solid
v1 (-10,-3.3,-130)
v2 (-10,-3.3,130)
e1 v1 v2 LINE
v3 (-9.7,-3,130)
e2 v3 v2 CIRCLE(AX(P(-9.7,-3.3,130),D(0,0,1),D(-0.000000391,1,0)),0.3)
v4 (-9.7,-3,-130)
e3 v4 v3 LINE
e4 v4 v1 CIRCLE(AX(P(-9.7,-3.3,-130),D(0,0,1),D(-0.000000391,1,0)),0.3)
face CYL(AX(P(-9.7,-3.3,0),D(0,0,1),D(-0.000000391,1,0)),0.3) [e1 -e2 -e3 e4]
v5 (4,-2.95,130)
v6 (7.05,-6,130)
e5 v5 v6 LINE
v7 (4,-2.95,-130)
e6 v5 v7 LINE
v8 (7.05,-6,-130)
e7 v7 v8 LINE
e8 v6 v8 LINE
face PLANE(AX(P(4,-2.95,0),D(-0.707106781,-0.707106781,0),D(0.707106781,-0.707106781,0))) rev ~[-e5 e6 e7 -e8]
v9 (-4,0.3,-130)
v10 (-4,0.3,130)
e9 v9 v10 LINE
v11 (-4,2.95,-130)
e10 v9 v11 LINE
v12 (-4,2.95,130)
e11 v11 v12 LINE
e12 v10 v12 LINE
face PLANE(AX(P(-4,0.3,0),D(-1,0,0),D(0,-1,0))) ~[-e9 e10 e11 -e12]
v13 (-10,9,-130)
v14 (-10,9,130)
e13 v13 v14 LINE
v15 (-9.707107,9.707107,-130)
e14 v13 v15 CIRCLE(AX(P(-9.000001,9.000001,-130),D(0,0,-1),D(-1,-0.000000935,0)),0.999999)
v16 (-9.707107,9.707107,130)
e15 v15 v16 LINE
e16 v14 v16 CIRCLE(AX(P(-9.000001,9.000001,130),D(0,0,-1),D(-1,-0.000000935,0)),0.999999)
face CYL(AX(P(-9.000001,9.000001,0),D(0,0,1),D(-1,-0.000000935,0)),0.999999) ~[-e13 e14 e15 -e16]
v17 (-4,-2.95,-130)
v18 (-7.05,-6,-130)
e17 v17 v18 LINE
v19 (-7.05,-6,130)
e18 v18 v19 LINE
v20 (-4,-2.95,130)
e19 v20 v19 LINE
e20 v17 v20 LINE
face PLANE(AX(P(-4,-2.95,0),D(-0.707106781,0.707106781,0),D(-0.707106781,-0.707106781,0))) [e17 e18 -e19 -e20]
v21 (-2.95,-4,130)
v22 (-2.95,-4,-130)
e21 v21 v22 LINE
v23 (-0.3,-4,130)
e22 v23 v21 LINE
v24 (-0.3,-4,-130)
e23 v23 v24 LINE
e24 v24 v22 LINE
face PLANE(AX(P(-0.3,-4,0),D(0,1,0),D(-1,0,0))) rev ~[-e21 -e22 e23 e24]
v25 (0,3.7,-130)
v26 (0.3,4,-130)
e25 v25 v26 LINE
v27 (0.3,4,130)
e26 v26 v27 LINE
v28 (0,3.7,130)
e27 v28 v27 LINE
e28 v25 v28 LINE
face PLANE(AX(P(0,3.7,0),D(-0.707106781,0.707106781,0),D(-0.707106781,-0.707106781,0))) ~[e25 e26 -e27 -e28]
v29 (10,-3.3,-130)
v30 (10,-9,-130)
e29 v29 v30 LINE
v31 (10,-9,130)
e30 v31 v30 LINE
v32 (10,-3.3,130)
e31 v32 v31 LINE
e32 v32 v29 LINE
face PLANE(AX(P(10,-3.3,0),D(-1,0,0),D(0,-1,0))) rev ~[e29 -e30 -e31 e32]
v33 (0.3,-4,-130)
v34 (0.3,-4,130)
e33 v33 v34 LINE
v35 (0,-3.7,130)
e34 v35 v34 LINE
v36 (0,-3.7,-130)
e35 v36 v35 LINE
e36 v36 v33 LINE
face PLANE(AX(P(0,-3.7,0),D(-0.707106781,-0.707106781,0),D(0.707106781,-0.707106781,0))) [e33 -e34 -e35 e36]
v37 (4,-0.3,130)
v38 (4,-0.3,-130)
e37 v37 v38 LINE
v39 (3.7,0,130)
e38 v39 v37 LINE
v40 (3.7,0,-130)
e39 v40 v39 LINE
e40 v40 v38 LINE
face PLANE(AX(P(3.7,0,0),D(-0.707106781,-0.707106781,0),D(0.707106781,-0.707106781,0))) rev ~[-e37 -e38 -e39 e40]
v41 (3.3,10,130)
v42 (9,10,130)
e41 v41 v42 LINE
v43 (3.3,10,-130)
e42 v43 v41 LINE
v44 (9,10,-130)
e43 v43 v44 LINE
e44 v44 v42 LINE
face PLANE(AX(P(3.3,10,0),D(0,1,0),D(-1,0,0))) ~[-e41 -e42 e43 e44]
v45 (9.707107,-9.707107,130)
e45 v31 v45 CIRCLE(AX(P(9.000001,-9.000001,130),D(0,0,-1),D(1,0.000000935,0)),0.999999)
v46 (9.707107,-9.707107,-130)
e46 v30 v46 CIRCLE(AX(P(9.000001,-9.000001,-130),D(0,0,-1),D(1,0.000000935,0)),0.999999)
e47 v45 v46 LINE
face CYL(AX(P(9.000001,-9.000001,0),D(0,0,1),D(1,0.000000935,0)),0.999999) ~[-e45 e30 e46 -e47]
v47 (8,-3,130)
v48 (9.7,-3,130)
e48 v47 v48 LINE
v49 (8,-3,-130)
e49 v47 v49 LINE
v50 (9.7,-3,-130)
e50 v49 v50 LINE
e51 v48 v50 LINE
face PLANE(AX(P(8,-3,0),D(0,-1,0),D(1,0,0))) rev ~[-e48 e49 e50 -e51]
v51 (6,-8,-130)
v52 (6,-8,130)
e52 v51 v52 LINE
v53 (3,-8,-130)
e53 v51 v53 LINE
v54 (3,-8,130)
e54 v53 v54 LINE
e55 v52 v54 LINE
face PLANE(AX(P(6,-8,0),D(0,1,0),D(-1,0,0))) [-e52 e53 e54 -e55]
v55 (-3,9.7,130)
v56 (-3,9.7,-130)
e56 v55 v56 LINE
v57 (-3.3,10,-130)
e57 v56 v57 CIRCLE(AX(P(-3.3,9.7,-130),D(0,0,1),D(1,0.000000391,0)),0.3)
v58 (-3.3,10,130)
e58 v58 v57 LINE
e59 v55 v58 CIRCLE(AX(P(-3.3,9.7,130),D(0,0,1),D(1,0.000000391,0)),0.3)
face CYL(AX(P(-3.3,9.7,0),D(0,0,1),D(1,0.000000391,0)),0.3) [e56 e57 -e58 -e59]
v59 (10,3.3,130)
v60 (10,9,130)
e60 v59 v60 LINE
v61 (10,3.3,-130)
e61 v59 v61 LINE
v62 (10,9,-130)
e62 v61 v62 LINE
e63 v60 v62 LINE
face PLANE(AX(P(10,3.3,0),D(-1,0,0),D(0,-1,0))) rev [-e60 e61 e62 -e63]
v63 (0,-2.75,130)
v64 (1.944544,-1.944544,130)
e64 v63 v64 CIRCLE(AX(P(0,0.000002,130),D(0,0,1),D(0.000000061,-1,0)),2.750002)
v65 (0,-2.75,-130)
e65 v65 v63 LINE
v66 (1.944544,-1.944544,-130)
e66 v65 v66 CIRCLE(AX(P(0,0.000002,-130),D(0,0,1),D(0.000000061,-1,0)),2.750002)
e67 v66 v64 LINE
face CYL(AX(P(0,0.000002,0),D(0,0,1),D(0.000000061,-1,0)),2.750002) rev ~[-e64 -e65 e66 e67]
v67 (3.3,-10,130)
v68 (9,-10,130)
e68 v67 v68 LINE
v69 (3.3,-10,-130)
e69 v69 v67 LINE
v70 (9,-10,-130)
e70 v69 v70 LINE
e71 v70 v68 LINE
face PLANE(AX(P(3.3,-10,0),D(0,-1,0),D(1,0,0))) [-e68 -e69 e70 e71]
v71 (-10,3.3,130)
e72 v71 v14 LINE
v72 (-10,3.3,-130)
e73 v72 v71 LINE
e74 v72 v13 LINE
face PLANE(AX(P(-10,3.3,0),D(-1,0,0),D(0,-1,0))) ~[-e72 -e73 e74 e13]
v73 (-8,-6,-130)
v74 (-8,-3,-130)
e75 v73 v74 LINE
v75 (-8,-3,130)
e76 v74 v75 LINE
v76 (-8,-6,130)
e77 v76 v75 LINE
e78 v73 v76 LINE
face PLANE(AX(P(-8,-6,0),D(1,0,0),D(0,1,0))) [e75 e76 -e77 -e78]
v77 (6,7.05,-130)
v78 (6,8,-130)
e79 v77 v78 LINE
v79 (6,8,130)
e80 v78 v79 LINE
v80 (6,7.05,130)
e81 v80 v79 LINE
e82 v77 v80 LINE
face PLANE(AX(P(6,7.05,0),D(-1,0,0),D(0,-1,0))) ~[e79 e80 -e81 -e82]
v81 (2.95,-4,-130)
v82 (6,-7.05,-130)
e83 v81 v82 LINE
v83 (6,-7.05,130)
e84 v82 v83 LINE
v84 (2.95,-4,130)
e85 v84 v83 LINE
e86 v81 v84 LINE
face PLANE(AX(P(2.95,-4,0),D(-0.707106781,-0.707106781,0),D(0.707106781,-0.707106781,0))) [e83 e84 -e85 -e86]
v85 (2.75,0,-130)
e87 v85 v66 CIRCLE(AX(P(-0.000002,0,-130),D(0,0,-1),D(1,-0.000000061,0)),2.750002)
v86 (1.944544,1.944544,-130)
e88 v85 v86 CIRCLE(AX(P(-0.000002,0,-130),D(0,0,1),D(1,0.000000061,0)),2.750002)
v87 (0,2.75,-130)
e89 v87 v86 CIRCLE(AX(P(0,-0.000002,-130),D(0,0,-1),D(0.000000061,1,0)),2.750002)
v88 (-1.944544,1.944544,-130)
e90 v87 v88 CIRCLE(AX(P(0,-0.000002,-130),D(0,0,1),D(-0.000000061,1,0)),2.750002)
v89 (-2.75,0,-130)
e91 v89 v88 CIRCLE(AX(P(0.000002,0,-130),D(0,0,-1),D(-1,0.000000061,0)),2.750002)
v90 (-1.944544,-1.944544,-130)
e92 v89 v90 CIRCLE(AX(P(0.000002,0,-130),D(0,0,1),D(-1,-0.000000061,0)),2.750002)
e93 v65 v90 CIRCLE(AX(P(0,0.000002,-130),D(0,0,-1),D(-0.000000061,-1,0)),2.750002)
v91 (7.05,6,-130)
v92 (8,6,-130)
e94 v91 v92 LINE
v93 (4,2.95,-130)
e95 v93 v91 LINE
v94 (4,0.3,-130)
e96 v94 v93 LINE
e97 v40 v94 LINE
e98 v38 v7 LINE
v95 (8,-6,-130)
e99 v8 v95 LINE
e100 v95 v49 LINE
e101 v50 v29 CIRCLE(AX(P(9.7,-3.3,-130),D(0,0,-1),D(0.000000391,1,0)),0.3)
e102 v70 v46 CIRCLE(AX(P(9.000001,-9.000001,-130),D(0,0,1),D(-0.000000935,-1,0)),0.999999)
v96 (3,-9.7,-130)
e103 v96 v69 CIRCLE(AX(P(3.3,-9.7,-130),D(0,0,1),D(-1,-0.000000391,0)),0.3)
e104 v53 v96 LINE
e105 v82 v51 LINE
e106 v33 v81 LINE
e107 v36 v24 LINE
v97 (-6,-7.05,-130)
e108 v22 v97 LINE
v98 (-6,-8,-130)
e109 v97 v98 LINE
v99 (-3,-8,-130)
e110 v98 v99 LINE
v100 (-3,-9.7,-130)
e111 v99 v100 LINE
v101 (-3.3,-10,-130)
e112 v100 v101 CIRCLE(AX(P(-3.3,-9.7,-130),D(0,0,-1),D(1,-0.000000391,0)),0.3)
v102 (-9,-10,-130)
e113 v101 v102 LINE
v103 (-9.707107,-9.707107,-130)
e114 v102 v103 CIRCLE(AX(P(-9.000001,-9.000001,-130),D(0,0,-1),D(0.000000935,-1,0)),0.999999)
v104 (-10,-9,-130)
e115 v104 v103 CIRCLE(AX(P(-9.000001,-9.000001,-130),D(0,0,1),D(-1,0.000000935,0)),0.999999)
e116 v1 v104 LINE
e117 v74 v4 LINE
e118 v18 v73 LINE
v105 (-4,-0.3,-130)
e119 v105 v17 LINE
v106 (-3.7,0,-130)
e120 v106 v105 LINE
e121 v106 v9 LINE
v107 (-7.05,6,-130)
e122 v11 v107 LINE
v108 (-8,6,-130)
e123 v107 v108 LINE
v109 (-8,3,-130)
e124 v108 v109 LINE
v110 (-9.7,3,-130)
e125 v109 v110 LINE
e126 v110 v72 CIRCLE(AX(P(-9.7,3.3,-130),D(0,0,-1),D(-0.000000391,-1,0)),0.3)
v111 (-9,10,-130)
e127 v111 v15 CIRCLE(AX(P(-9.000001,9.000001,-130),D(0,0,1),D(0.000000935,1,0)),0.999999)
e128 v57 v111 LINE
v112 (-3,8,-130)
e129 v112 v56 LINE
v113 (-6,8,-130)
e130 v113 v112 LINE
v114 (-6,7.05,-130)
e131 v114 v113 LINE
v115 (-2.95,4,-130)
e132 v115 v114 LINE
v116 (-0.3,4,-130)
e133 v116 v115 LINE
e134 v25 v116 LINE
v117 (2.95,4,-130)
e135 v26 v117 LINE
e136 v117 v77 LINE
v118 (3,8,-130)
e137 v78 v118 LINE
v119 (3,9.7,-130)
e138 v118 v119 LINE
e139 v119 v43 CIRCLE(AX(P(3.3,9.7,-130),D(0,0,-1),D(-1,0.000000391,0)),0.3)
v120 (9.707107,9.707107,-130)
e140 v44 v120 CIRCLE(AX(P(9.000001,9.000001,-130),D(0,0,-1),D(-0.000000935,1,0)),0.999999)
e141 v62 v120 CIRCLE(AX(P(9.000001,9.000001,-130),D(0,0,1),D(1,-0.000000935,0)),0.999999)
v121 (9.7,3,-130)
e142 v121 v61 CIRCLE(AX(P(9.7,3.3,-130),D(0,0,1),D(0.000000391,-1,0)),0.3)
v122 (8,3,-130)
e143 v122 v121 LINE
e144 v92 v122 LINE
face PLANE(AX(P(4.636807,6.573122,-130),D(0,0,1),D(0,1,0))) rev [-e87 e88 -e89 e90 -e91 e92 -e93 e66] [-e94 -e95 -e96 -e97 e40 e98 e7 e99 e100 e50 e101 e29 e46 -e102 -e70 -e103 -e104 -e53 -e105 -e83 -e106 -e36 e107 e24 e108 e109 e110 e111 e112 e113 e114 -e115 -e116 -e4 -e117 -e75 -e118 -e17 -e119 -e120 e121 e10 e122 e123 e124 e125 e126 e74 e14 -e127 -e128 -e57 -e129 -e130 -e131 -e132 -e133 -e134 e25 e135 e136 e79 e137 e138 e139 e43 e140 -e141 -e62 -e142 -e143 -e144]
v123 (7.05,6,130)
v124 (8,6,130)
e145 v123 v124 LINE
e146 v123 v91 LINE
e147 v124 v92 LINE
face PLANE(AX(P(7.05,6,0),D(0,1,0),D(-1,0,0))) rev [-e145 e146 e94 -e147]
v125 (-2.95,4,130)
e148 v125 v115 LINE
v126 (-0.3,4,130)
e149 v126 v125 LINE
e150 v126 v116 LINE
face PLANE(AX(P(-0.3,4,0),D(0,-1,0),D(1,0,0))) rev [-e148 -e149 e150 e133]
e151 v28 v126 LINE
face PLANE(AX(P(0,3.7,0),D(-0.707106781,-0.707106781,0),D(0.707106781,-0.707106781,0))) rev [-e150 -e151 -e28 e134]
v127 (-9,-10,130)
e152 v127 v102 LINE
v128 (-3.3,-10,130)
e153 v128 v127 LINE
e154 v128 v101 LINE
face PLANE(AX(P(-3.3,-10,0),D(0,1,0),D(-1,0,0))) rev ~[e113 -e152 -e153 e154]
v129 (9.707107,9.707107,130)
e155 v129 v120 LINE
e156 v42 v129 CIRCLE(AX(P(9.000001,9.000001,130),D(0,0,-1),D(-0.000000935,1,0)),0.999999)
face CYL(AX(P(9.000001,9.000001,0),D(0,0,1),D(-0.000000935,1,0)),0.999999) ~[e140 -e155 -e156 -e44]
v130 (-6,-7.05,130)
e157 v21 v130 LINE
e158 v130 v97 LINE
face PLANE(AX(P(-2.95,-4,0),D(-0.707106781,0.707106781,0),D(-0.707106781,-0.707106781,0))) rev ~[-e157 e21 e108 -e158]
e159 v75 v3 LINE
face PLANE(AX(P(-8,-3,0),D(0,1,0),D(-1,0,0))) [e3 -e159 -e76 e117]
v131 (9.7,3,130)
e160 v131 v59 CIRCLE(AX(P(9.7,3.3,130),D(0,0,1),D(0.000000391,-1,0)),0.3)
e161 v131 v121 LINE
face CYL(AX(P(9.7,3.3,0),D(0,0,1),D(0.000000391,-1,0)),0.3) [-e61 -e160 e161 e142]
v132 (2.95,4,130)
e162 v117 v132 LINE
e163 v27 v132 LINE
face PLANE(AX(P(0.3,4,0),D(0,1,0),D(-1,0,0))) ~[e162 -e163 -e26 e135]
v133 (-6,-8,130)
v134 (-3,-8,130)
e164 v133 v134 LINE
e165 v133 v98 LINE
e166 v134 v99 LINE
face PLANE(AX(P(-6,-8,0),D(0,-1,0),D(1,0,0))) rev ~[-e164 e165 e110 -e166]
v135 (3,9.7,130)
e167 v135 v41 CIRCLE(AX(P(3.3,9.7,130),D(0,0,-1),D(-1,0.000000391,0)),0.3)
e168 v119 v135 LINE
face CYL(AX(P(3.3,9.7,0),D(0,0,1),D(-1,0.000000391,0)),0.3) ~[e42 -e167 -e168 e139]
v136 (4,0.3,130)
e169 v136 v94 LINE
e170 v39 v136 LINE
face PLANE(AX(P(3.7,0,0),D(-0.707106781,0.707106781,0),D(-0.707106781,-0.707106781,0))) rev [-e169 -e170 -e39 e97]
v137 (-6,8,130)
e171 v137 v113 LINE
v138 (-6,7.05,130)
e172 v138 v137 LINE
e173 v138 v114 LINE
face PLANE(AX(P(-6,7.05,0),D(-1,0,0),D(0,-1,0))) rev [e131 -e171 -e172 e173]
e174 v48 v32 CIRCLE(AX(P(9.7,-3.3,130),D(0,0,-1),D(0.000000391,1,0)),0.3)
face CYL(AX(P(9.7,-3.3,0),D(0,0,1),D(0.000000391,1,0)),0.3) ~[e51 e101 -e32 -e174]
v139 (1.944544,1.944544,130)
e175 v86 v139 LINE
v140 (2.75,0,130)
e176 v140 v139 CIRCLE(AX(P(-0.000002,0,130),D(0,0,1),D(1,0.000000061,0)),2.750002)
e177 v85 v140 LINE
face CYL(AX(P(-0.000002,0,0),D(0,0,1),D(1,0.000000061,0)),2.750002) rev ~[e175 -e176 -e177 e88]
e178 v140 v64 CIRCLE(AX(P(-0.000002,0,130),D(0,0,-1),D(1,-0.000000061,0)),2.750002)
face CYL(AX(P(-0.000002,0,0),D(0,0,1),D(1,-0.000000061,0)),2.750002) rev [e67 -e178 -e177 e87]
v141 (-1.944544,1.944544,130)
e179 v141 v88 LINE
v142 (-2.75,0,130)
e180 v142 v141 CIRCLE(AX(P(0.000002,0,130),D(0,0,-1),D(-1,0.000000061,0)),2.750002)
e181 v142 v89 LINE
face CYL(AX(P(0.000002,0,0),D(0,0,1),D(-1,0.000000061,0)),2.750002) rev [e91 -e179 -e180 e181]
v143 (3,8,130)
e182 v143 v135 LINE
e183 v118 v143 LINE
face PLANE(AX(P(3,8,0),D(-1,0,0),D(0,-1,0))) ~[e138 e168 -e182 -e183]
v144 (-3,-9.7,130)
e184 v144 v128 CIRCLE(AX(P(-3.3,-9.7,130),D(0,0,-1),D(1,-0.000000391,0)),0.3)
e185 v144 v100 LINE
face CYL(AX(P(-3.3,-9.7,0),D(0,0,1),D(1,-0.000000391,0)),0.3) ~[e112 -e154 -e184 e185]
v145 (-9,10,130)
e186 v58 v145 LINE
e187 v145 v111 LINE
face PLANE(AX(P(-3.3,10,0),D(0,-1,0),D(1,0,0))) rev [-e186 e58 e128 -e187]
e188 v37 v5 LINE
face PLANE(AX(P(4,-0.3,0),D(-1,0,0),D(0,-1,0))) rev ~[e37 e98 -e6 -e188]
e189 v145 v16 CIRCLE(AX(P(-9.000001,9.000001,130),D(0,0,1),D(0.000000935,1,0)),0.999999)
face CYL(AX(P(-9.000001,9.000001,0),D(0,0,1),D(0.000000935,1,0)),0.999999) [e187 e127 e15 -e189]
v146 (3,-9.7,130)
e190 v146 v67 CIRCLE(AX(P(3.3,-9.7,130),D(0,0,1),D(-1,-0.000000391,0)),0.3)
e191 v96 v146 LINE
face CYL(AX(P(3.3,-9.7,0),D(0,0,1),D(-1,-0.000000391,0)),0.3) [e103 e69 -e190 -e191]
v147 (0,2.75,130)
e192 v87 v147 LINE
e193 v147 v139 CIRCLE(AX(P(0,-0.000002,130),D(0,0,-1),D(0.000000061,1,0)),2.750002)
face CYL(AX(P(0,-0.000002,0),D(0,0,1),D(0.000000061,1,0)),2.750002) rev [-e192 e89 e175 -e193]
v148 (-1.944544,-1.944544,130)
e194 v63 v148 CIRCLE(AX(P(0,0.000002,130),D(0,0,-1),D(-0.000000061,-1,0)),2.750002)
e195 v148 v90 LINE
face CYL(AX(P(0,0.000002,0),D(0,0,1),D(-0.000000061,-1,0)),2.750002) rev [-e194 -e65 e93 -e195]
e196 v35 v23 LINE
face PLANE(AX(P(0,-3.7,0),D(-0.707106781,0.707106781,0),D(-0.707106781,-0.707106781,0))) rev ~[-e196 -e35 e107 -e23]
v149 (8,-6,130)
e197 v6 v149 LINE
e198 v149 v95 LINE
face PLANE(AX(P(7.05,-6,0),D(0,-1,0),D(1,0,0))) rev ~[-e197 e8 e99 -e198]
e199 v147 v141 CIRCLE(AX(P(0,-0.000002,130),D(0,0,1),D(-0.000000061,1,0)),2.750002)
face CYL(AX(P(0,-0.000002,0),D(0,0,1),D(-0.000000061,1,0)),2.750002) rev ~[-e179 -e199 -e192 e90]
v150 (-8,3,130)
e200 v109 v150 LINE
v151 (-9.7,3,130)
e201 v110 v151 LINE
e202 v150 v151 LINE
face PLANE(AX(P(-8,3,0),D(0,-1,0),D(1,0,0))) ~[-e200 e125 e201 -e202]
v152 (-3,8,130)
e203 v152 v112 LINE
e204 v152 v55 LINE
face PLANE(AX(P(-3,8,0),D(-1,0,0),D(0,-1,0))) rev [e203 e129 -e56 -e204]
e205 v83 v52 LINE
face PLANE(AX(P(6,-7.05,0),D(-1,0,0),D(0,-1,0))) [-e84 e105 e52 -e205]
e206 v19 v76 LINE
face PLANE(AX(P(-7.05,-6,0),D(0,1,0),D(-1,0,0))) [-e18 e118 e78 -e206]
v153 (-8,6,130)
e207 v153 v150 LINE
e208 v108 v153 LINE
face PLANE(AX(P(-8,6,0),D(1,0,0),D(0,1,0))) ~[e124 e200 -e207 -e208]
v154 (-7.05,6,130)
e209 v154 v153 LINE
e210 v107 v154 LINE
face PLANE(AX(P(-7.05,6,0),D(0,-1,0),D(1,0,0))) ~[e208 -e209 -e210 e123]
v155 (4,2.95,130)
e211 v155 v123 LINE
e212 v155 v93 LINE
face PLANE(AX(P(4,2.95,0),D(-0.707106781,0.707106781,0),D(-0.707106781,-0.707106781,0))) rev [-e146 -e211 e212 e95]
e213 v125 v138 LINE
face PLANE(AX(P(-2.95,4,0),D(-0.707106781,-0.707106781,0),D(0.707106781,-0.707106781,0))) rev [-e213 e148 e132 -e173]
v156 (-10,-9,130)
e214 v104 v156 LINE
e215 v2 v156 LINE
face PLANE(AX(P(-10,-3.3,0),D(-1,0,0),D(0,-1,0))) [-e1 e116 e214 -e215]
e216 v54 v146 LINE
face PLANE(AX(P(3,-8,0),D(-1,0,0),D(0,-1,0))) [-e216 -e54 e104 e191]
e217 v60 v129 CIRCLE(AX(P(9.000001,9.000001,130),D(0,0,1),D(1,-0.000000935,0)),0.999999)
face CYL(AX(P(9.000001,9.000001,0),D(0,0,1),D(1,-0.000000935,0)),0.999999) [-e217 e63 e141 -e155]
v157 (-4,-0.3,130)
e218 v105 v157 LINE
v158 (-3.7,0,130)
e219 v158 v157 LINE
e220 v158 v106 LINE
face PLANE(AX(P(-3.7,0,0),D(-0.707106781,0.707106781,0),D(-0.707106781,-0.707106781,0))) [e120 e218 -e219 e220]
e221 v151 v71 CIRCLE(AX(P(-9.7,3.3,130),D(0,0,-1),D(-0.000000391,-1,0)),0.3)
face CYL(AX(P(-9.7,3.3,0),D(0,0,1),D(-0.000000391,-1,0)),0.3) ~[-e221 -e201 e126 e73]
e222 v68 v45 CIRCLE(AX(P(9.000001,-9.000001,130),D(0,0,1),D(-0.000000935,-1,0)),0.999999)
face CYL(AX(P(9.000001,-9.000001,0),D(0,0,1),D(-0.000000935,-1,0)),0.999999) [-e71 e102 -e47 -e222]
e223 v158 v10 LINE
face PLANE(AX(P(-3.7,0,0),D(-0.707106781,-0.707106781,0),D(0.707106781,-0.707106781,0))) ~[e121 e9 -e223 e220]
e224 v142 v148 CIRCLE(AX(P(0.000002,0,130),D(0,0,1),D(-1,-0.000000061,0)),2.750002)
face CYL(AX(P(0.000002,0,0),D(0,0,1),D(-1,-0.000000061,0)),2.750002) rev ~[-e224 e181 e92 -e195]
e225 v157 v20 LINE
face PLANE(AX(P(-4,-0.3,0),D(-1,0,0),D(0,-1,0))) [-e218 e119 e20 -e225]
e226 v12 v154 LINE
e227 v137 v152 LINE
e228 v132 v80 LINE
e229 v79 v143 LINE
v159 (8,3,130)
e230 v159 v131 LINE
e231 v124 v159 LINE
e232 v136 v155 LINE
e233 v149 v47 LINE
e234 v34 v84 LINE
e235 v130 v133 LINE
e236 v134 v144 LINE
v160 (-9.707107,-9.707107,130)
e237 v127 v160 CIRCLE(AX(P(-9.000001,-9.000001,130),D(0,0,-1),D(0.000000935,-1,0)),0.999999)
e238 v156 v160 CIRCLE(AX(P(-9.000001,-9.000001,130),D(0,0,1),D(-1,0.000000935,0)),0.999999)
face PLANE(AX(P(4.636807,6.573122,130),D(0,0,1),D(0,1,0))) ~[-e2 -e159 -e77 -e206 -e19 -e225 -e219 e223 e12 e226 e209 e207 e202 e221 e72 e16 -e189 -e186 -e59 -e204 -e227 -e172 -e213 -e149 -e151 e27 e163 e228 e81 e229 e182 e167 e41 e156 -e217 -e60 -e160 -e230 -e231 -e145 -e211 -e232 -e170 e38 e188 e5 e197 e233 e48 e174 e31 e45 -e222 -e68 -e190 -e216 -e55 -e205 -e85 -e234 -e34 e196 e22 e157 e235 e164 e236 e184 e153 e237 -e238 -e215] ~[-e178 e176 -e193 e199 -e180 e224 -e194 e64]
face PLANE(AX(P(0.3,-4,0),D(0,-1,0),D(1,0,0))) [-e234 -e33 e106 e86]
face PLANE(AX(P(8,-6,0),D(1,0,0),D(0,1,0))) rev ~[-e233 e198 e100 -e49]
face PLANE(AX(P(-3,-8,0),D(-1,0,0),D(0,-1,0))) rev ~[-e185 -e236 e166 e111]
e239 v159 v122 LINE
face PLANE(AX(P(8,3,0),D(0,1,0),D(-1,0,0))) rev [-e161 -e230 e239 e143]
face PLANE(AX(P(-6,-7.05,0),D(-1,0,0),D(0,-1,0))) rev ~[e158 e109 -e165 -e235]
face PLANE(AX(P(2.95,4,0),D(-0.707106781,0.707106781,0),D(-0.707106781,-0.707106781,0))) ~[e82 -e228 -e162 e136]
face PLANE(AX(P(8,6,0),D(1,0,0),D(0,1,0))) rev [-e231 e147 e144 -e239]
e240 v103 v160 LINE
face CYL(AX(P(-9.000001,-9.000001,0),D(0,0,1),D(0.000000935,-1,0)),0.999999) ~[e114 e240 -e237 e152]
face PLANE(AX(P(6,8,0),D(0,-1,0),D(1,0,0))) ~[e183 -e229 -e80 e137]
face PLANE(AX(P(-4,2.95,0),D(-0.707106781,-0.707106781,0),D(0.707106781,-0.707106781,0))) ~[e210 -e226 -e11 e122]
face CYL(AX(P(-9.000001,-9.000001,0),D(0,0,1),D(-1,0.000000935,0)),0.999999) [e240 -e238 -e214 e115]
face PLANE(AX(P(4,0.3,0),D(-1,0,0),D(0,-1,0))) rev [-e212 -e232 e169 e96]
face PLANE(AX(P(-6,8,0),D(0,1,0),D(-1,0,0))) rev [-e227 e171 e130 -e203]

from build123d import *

# Parameters (mm, degrees)
PAD001_DEPTH                             = 130
PAD001_MIRRORED003_2_DEPTH               = 130
PAD001_MIRRORED004_2_DEPTH               = 130
PAD001_MIRRORED003_2_MIRRORED004_2_DEPTH = 130


with BuildPart() as part:
    # Sketch001 → Pad001 (new body, symmetric)
    with BuildSketch(Plane.XY):
        with BuildLine():
            Line((-3.7, 0), (-4, -0.3))
            Line((-4, -0.3), (-4, -2.95))
            Line((-4, -2.95), (-7.05, -6))
            Line((-7.05, -6), (-8, -6))
            Line((-8, -6), (-8, -3))
            Line((-8, -3), (-9.7, -3))
            ThreePointArc((-9.7, -3), (-9.912132, -3.087868), (-10, -3.3))
            Line((-10, -3.3), (-10, -9))
            ThreePointArc((-10, -9), (-9.92388, -9.382683), (-9.707107, -9.707107))
            Line((-1.944544, -1.944544), (-9.707107, -9.707107))
            ThreePointArc((-2.75, 0), (-2.540669, -1.052379), (-1.944544, -1.944544))
            Line((-3.7, 0), (-2.75, 0))
        make_face()
    pad001 = extrude(amount=PAD001_DEPTH, both=True)

    # Sketch001 Mirrored003 2 → Pad001 Mirrored003 2 (add, symmetric)
    with BuildSketch(Plane.YX):
        with BuildLine():
            Line((-3.7, 0), (-4, -0.3))
            Line((-4, -0.3), (-4, -2.95))
            Line((-4, -2.95), (-7.05, -6))
            Line((-7.05, -6), (-8, -6))
            Line((-8, -6), (-8, -3))
            Line((-8, -3), (-9.7, -3))
            ThreePointArc((-9.7, -3), (-9.912132, -3.087868), (-10, -3.3))
            Line((-10, -3.3), (-10, -9))
            ThreePointArc((-10, -9), (-9.92388, -9.382683), (-9.707107, -9.707107))
            Line((-1.944544, -1.944544), (-9.707107, -9.707107))
            ThreePointArc((-2.75, 0), (-2.540669, -1.052379), (-1.944544, -1.944544))
            Line((-3.7, 0), (-2.75, 0))
        make_face()
    pad001_mirrored003_2 = extrude(amount=-PAD001_MIRRORED003_2_DEPTH, both=True)

    # Sketch001 Mirrored004 2 → Pad001 Mirrored004 2 (add, symmetric)
    with BuildSketch(Plane(origin=(0, 0, 0), x_dir=(-1, 0, 0), z_dir=(0, 0, -1))):
        with BuildLine():
            Line((-3.7, 0), (-4, -0.3))
            Line((-4, -0.3), (-4, -2.95))
            Line((-4, -2.95), (-7.05, -6))
            Line((-7.05, -6), (-8, -6))
            Line((-8, -6), (-8, -3))
            Line((-8, -3), (-9.7, -3))
            ThreePointArc((-9.7, -3), (-9.912132, -3.087868), (-10, -3.3))
            Line((-10, -3.3), (-10, -9))
            ThreePointArc((-10, -9), (-9.92388, -9.382683), (-9.707107, -9.707107))
            Line((-1.944544, -1.944544), (-9.707107, -9.707107))
            ThreePointArc((-2.75, 0), (-2.540669, -1.052379), (-1.944544, -1.944544))
            Line((-3.7, 0), (-2.75, 0))
        make_face()
    pad001_mirrored004_2 = extrude(amount=-PAD001_MIRRORED004_2_DEPTH, both=True)

    # Sketch001 Mirrored003 2 Mirrored004 2 → Pad001 Mirrored003 2 Mirrored004 2 (add, symmetric)
    with BuildSketch(Plane(origin=(0, 0, 0), x_dir=(0, 1, 0), z_dir=(0, 0, 1))):
        with BuildLine():
            Line((-3.7, 0), (-4, -0.3))
            Line((-4, -0.3), (-4, -2.95))
            Line((-4, -2.95), (-7.05, -6))
            Line((-7.05, -6), (-8, -6))
            Line((-8, -6), (-8, -3))
            Line((-8, -3), (-9.7, -3))
            ThreePointArc((-9.7, -3), (-9.912132, -3.087868), (-10, -3.3))
            Line((-10, -3.3), (-10, -9))
            ThreePointArc((-10, -9), (-9.92388, -9.382683), (-9.707107, -9.707107))
            Line((-1.944544, -1.944544), (-9.707107, -9.707107))
            ThreePointArc((-2.75, 0), (-2.540669, -1.052379), (-1.944544, -1.944544))
            Line((-3.7, 0), (-2.75, 0))
        make_face()
    pad001_mirrored003_2_mirrored004_2 = extrude(amount=PAD001_MIRRORED003_2_MIRRORED004_2_DEPTH, both=True)

    # Mirrored005: Pad001, Pad001 Mirrored003 2, Pad001 Mirrored004 2, Pad001 Mirrored003 2 Mirrored004 2 across Sketch001 H_Axis
    add(pad001.mirror(Plane.ZX))
    add(pad001_mirrored003_2.mirror(Plane.ZX))
    add(pad001_mirrored004_2.mirror(Plane.ZX))
    add(pad001_mirrored003_2_mirrored004_2.mirror(Plane.ZX))


solid = part.part
